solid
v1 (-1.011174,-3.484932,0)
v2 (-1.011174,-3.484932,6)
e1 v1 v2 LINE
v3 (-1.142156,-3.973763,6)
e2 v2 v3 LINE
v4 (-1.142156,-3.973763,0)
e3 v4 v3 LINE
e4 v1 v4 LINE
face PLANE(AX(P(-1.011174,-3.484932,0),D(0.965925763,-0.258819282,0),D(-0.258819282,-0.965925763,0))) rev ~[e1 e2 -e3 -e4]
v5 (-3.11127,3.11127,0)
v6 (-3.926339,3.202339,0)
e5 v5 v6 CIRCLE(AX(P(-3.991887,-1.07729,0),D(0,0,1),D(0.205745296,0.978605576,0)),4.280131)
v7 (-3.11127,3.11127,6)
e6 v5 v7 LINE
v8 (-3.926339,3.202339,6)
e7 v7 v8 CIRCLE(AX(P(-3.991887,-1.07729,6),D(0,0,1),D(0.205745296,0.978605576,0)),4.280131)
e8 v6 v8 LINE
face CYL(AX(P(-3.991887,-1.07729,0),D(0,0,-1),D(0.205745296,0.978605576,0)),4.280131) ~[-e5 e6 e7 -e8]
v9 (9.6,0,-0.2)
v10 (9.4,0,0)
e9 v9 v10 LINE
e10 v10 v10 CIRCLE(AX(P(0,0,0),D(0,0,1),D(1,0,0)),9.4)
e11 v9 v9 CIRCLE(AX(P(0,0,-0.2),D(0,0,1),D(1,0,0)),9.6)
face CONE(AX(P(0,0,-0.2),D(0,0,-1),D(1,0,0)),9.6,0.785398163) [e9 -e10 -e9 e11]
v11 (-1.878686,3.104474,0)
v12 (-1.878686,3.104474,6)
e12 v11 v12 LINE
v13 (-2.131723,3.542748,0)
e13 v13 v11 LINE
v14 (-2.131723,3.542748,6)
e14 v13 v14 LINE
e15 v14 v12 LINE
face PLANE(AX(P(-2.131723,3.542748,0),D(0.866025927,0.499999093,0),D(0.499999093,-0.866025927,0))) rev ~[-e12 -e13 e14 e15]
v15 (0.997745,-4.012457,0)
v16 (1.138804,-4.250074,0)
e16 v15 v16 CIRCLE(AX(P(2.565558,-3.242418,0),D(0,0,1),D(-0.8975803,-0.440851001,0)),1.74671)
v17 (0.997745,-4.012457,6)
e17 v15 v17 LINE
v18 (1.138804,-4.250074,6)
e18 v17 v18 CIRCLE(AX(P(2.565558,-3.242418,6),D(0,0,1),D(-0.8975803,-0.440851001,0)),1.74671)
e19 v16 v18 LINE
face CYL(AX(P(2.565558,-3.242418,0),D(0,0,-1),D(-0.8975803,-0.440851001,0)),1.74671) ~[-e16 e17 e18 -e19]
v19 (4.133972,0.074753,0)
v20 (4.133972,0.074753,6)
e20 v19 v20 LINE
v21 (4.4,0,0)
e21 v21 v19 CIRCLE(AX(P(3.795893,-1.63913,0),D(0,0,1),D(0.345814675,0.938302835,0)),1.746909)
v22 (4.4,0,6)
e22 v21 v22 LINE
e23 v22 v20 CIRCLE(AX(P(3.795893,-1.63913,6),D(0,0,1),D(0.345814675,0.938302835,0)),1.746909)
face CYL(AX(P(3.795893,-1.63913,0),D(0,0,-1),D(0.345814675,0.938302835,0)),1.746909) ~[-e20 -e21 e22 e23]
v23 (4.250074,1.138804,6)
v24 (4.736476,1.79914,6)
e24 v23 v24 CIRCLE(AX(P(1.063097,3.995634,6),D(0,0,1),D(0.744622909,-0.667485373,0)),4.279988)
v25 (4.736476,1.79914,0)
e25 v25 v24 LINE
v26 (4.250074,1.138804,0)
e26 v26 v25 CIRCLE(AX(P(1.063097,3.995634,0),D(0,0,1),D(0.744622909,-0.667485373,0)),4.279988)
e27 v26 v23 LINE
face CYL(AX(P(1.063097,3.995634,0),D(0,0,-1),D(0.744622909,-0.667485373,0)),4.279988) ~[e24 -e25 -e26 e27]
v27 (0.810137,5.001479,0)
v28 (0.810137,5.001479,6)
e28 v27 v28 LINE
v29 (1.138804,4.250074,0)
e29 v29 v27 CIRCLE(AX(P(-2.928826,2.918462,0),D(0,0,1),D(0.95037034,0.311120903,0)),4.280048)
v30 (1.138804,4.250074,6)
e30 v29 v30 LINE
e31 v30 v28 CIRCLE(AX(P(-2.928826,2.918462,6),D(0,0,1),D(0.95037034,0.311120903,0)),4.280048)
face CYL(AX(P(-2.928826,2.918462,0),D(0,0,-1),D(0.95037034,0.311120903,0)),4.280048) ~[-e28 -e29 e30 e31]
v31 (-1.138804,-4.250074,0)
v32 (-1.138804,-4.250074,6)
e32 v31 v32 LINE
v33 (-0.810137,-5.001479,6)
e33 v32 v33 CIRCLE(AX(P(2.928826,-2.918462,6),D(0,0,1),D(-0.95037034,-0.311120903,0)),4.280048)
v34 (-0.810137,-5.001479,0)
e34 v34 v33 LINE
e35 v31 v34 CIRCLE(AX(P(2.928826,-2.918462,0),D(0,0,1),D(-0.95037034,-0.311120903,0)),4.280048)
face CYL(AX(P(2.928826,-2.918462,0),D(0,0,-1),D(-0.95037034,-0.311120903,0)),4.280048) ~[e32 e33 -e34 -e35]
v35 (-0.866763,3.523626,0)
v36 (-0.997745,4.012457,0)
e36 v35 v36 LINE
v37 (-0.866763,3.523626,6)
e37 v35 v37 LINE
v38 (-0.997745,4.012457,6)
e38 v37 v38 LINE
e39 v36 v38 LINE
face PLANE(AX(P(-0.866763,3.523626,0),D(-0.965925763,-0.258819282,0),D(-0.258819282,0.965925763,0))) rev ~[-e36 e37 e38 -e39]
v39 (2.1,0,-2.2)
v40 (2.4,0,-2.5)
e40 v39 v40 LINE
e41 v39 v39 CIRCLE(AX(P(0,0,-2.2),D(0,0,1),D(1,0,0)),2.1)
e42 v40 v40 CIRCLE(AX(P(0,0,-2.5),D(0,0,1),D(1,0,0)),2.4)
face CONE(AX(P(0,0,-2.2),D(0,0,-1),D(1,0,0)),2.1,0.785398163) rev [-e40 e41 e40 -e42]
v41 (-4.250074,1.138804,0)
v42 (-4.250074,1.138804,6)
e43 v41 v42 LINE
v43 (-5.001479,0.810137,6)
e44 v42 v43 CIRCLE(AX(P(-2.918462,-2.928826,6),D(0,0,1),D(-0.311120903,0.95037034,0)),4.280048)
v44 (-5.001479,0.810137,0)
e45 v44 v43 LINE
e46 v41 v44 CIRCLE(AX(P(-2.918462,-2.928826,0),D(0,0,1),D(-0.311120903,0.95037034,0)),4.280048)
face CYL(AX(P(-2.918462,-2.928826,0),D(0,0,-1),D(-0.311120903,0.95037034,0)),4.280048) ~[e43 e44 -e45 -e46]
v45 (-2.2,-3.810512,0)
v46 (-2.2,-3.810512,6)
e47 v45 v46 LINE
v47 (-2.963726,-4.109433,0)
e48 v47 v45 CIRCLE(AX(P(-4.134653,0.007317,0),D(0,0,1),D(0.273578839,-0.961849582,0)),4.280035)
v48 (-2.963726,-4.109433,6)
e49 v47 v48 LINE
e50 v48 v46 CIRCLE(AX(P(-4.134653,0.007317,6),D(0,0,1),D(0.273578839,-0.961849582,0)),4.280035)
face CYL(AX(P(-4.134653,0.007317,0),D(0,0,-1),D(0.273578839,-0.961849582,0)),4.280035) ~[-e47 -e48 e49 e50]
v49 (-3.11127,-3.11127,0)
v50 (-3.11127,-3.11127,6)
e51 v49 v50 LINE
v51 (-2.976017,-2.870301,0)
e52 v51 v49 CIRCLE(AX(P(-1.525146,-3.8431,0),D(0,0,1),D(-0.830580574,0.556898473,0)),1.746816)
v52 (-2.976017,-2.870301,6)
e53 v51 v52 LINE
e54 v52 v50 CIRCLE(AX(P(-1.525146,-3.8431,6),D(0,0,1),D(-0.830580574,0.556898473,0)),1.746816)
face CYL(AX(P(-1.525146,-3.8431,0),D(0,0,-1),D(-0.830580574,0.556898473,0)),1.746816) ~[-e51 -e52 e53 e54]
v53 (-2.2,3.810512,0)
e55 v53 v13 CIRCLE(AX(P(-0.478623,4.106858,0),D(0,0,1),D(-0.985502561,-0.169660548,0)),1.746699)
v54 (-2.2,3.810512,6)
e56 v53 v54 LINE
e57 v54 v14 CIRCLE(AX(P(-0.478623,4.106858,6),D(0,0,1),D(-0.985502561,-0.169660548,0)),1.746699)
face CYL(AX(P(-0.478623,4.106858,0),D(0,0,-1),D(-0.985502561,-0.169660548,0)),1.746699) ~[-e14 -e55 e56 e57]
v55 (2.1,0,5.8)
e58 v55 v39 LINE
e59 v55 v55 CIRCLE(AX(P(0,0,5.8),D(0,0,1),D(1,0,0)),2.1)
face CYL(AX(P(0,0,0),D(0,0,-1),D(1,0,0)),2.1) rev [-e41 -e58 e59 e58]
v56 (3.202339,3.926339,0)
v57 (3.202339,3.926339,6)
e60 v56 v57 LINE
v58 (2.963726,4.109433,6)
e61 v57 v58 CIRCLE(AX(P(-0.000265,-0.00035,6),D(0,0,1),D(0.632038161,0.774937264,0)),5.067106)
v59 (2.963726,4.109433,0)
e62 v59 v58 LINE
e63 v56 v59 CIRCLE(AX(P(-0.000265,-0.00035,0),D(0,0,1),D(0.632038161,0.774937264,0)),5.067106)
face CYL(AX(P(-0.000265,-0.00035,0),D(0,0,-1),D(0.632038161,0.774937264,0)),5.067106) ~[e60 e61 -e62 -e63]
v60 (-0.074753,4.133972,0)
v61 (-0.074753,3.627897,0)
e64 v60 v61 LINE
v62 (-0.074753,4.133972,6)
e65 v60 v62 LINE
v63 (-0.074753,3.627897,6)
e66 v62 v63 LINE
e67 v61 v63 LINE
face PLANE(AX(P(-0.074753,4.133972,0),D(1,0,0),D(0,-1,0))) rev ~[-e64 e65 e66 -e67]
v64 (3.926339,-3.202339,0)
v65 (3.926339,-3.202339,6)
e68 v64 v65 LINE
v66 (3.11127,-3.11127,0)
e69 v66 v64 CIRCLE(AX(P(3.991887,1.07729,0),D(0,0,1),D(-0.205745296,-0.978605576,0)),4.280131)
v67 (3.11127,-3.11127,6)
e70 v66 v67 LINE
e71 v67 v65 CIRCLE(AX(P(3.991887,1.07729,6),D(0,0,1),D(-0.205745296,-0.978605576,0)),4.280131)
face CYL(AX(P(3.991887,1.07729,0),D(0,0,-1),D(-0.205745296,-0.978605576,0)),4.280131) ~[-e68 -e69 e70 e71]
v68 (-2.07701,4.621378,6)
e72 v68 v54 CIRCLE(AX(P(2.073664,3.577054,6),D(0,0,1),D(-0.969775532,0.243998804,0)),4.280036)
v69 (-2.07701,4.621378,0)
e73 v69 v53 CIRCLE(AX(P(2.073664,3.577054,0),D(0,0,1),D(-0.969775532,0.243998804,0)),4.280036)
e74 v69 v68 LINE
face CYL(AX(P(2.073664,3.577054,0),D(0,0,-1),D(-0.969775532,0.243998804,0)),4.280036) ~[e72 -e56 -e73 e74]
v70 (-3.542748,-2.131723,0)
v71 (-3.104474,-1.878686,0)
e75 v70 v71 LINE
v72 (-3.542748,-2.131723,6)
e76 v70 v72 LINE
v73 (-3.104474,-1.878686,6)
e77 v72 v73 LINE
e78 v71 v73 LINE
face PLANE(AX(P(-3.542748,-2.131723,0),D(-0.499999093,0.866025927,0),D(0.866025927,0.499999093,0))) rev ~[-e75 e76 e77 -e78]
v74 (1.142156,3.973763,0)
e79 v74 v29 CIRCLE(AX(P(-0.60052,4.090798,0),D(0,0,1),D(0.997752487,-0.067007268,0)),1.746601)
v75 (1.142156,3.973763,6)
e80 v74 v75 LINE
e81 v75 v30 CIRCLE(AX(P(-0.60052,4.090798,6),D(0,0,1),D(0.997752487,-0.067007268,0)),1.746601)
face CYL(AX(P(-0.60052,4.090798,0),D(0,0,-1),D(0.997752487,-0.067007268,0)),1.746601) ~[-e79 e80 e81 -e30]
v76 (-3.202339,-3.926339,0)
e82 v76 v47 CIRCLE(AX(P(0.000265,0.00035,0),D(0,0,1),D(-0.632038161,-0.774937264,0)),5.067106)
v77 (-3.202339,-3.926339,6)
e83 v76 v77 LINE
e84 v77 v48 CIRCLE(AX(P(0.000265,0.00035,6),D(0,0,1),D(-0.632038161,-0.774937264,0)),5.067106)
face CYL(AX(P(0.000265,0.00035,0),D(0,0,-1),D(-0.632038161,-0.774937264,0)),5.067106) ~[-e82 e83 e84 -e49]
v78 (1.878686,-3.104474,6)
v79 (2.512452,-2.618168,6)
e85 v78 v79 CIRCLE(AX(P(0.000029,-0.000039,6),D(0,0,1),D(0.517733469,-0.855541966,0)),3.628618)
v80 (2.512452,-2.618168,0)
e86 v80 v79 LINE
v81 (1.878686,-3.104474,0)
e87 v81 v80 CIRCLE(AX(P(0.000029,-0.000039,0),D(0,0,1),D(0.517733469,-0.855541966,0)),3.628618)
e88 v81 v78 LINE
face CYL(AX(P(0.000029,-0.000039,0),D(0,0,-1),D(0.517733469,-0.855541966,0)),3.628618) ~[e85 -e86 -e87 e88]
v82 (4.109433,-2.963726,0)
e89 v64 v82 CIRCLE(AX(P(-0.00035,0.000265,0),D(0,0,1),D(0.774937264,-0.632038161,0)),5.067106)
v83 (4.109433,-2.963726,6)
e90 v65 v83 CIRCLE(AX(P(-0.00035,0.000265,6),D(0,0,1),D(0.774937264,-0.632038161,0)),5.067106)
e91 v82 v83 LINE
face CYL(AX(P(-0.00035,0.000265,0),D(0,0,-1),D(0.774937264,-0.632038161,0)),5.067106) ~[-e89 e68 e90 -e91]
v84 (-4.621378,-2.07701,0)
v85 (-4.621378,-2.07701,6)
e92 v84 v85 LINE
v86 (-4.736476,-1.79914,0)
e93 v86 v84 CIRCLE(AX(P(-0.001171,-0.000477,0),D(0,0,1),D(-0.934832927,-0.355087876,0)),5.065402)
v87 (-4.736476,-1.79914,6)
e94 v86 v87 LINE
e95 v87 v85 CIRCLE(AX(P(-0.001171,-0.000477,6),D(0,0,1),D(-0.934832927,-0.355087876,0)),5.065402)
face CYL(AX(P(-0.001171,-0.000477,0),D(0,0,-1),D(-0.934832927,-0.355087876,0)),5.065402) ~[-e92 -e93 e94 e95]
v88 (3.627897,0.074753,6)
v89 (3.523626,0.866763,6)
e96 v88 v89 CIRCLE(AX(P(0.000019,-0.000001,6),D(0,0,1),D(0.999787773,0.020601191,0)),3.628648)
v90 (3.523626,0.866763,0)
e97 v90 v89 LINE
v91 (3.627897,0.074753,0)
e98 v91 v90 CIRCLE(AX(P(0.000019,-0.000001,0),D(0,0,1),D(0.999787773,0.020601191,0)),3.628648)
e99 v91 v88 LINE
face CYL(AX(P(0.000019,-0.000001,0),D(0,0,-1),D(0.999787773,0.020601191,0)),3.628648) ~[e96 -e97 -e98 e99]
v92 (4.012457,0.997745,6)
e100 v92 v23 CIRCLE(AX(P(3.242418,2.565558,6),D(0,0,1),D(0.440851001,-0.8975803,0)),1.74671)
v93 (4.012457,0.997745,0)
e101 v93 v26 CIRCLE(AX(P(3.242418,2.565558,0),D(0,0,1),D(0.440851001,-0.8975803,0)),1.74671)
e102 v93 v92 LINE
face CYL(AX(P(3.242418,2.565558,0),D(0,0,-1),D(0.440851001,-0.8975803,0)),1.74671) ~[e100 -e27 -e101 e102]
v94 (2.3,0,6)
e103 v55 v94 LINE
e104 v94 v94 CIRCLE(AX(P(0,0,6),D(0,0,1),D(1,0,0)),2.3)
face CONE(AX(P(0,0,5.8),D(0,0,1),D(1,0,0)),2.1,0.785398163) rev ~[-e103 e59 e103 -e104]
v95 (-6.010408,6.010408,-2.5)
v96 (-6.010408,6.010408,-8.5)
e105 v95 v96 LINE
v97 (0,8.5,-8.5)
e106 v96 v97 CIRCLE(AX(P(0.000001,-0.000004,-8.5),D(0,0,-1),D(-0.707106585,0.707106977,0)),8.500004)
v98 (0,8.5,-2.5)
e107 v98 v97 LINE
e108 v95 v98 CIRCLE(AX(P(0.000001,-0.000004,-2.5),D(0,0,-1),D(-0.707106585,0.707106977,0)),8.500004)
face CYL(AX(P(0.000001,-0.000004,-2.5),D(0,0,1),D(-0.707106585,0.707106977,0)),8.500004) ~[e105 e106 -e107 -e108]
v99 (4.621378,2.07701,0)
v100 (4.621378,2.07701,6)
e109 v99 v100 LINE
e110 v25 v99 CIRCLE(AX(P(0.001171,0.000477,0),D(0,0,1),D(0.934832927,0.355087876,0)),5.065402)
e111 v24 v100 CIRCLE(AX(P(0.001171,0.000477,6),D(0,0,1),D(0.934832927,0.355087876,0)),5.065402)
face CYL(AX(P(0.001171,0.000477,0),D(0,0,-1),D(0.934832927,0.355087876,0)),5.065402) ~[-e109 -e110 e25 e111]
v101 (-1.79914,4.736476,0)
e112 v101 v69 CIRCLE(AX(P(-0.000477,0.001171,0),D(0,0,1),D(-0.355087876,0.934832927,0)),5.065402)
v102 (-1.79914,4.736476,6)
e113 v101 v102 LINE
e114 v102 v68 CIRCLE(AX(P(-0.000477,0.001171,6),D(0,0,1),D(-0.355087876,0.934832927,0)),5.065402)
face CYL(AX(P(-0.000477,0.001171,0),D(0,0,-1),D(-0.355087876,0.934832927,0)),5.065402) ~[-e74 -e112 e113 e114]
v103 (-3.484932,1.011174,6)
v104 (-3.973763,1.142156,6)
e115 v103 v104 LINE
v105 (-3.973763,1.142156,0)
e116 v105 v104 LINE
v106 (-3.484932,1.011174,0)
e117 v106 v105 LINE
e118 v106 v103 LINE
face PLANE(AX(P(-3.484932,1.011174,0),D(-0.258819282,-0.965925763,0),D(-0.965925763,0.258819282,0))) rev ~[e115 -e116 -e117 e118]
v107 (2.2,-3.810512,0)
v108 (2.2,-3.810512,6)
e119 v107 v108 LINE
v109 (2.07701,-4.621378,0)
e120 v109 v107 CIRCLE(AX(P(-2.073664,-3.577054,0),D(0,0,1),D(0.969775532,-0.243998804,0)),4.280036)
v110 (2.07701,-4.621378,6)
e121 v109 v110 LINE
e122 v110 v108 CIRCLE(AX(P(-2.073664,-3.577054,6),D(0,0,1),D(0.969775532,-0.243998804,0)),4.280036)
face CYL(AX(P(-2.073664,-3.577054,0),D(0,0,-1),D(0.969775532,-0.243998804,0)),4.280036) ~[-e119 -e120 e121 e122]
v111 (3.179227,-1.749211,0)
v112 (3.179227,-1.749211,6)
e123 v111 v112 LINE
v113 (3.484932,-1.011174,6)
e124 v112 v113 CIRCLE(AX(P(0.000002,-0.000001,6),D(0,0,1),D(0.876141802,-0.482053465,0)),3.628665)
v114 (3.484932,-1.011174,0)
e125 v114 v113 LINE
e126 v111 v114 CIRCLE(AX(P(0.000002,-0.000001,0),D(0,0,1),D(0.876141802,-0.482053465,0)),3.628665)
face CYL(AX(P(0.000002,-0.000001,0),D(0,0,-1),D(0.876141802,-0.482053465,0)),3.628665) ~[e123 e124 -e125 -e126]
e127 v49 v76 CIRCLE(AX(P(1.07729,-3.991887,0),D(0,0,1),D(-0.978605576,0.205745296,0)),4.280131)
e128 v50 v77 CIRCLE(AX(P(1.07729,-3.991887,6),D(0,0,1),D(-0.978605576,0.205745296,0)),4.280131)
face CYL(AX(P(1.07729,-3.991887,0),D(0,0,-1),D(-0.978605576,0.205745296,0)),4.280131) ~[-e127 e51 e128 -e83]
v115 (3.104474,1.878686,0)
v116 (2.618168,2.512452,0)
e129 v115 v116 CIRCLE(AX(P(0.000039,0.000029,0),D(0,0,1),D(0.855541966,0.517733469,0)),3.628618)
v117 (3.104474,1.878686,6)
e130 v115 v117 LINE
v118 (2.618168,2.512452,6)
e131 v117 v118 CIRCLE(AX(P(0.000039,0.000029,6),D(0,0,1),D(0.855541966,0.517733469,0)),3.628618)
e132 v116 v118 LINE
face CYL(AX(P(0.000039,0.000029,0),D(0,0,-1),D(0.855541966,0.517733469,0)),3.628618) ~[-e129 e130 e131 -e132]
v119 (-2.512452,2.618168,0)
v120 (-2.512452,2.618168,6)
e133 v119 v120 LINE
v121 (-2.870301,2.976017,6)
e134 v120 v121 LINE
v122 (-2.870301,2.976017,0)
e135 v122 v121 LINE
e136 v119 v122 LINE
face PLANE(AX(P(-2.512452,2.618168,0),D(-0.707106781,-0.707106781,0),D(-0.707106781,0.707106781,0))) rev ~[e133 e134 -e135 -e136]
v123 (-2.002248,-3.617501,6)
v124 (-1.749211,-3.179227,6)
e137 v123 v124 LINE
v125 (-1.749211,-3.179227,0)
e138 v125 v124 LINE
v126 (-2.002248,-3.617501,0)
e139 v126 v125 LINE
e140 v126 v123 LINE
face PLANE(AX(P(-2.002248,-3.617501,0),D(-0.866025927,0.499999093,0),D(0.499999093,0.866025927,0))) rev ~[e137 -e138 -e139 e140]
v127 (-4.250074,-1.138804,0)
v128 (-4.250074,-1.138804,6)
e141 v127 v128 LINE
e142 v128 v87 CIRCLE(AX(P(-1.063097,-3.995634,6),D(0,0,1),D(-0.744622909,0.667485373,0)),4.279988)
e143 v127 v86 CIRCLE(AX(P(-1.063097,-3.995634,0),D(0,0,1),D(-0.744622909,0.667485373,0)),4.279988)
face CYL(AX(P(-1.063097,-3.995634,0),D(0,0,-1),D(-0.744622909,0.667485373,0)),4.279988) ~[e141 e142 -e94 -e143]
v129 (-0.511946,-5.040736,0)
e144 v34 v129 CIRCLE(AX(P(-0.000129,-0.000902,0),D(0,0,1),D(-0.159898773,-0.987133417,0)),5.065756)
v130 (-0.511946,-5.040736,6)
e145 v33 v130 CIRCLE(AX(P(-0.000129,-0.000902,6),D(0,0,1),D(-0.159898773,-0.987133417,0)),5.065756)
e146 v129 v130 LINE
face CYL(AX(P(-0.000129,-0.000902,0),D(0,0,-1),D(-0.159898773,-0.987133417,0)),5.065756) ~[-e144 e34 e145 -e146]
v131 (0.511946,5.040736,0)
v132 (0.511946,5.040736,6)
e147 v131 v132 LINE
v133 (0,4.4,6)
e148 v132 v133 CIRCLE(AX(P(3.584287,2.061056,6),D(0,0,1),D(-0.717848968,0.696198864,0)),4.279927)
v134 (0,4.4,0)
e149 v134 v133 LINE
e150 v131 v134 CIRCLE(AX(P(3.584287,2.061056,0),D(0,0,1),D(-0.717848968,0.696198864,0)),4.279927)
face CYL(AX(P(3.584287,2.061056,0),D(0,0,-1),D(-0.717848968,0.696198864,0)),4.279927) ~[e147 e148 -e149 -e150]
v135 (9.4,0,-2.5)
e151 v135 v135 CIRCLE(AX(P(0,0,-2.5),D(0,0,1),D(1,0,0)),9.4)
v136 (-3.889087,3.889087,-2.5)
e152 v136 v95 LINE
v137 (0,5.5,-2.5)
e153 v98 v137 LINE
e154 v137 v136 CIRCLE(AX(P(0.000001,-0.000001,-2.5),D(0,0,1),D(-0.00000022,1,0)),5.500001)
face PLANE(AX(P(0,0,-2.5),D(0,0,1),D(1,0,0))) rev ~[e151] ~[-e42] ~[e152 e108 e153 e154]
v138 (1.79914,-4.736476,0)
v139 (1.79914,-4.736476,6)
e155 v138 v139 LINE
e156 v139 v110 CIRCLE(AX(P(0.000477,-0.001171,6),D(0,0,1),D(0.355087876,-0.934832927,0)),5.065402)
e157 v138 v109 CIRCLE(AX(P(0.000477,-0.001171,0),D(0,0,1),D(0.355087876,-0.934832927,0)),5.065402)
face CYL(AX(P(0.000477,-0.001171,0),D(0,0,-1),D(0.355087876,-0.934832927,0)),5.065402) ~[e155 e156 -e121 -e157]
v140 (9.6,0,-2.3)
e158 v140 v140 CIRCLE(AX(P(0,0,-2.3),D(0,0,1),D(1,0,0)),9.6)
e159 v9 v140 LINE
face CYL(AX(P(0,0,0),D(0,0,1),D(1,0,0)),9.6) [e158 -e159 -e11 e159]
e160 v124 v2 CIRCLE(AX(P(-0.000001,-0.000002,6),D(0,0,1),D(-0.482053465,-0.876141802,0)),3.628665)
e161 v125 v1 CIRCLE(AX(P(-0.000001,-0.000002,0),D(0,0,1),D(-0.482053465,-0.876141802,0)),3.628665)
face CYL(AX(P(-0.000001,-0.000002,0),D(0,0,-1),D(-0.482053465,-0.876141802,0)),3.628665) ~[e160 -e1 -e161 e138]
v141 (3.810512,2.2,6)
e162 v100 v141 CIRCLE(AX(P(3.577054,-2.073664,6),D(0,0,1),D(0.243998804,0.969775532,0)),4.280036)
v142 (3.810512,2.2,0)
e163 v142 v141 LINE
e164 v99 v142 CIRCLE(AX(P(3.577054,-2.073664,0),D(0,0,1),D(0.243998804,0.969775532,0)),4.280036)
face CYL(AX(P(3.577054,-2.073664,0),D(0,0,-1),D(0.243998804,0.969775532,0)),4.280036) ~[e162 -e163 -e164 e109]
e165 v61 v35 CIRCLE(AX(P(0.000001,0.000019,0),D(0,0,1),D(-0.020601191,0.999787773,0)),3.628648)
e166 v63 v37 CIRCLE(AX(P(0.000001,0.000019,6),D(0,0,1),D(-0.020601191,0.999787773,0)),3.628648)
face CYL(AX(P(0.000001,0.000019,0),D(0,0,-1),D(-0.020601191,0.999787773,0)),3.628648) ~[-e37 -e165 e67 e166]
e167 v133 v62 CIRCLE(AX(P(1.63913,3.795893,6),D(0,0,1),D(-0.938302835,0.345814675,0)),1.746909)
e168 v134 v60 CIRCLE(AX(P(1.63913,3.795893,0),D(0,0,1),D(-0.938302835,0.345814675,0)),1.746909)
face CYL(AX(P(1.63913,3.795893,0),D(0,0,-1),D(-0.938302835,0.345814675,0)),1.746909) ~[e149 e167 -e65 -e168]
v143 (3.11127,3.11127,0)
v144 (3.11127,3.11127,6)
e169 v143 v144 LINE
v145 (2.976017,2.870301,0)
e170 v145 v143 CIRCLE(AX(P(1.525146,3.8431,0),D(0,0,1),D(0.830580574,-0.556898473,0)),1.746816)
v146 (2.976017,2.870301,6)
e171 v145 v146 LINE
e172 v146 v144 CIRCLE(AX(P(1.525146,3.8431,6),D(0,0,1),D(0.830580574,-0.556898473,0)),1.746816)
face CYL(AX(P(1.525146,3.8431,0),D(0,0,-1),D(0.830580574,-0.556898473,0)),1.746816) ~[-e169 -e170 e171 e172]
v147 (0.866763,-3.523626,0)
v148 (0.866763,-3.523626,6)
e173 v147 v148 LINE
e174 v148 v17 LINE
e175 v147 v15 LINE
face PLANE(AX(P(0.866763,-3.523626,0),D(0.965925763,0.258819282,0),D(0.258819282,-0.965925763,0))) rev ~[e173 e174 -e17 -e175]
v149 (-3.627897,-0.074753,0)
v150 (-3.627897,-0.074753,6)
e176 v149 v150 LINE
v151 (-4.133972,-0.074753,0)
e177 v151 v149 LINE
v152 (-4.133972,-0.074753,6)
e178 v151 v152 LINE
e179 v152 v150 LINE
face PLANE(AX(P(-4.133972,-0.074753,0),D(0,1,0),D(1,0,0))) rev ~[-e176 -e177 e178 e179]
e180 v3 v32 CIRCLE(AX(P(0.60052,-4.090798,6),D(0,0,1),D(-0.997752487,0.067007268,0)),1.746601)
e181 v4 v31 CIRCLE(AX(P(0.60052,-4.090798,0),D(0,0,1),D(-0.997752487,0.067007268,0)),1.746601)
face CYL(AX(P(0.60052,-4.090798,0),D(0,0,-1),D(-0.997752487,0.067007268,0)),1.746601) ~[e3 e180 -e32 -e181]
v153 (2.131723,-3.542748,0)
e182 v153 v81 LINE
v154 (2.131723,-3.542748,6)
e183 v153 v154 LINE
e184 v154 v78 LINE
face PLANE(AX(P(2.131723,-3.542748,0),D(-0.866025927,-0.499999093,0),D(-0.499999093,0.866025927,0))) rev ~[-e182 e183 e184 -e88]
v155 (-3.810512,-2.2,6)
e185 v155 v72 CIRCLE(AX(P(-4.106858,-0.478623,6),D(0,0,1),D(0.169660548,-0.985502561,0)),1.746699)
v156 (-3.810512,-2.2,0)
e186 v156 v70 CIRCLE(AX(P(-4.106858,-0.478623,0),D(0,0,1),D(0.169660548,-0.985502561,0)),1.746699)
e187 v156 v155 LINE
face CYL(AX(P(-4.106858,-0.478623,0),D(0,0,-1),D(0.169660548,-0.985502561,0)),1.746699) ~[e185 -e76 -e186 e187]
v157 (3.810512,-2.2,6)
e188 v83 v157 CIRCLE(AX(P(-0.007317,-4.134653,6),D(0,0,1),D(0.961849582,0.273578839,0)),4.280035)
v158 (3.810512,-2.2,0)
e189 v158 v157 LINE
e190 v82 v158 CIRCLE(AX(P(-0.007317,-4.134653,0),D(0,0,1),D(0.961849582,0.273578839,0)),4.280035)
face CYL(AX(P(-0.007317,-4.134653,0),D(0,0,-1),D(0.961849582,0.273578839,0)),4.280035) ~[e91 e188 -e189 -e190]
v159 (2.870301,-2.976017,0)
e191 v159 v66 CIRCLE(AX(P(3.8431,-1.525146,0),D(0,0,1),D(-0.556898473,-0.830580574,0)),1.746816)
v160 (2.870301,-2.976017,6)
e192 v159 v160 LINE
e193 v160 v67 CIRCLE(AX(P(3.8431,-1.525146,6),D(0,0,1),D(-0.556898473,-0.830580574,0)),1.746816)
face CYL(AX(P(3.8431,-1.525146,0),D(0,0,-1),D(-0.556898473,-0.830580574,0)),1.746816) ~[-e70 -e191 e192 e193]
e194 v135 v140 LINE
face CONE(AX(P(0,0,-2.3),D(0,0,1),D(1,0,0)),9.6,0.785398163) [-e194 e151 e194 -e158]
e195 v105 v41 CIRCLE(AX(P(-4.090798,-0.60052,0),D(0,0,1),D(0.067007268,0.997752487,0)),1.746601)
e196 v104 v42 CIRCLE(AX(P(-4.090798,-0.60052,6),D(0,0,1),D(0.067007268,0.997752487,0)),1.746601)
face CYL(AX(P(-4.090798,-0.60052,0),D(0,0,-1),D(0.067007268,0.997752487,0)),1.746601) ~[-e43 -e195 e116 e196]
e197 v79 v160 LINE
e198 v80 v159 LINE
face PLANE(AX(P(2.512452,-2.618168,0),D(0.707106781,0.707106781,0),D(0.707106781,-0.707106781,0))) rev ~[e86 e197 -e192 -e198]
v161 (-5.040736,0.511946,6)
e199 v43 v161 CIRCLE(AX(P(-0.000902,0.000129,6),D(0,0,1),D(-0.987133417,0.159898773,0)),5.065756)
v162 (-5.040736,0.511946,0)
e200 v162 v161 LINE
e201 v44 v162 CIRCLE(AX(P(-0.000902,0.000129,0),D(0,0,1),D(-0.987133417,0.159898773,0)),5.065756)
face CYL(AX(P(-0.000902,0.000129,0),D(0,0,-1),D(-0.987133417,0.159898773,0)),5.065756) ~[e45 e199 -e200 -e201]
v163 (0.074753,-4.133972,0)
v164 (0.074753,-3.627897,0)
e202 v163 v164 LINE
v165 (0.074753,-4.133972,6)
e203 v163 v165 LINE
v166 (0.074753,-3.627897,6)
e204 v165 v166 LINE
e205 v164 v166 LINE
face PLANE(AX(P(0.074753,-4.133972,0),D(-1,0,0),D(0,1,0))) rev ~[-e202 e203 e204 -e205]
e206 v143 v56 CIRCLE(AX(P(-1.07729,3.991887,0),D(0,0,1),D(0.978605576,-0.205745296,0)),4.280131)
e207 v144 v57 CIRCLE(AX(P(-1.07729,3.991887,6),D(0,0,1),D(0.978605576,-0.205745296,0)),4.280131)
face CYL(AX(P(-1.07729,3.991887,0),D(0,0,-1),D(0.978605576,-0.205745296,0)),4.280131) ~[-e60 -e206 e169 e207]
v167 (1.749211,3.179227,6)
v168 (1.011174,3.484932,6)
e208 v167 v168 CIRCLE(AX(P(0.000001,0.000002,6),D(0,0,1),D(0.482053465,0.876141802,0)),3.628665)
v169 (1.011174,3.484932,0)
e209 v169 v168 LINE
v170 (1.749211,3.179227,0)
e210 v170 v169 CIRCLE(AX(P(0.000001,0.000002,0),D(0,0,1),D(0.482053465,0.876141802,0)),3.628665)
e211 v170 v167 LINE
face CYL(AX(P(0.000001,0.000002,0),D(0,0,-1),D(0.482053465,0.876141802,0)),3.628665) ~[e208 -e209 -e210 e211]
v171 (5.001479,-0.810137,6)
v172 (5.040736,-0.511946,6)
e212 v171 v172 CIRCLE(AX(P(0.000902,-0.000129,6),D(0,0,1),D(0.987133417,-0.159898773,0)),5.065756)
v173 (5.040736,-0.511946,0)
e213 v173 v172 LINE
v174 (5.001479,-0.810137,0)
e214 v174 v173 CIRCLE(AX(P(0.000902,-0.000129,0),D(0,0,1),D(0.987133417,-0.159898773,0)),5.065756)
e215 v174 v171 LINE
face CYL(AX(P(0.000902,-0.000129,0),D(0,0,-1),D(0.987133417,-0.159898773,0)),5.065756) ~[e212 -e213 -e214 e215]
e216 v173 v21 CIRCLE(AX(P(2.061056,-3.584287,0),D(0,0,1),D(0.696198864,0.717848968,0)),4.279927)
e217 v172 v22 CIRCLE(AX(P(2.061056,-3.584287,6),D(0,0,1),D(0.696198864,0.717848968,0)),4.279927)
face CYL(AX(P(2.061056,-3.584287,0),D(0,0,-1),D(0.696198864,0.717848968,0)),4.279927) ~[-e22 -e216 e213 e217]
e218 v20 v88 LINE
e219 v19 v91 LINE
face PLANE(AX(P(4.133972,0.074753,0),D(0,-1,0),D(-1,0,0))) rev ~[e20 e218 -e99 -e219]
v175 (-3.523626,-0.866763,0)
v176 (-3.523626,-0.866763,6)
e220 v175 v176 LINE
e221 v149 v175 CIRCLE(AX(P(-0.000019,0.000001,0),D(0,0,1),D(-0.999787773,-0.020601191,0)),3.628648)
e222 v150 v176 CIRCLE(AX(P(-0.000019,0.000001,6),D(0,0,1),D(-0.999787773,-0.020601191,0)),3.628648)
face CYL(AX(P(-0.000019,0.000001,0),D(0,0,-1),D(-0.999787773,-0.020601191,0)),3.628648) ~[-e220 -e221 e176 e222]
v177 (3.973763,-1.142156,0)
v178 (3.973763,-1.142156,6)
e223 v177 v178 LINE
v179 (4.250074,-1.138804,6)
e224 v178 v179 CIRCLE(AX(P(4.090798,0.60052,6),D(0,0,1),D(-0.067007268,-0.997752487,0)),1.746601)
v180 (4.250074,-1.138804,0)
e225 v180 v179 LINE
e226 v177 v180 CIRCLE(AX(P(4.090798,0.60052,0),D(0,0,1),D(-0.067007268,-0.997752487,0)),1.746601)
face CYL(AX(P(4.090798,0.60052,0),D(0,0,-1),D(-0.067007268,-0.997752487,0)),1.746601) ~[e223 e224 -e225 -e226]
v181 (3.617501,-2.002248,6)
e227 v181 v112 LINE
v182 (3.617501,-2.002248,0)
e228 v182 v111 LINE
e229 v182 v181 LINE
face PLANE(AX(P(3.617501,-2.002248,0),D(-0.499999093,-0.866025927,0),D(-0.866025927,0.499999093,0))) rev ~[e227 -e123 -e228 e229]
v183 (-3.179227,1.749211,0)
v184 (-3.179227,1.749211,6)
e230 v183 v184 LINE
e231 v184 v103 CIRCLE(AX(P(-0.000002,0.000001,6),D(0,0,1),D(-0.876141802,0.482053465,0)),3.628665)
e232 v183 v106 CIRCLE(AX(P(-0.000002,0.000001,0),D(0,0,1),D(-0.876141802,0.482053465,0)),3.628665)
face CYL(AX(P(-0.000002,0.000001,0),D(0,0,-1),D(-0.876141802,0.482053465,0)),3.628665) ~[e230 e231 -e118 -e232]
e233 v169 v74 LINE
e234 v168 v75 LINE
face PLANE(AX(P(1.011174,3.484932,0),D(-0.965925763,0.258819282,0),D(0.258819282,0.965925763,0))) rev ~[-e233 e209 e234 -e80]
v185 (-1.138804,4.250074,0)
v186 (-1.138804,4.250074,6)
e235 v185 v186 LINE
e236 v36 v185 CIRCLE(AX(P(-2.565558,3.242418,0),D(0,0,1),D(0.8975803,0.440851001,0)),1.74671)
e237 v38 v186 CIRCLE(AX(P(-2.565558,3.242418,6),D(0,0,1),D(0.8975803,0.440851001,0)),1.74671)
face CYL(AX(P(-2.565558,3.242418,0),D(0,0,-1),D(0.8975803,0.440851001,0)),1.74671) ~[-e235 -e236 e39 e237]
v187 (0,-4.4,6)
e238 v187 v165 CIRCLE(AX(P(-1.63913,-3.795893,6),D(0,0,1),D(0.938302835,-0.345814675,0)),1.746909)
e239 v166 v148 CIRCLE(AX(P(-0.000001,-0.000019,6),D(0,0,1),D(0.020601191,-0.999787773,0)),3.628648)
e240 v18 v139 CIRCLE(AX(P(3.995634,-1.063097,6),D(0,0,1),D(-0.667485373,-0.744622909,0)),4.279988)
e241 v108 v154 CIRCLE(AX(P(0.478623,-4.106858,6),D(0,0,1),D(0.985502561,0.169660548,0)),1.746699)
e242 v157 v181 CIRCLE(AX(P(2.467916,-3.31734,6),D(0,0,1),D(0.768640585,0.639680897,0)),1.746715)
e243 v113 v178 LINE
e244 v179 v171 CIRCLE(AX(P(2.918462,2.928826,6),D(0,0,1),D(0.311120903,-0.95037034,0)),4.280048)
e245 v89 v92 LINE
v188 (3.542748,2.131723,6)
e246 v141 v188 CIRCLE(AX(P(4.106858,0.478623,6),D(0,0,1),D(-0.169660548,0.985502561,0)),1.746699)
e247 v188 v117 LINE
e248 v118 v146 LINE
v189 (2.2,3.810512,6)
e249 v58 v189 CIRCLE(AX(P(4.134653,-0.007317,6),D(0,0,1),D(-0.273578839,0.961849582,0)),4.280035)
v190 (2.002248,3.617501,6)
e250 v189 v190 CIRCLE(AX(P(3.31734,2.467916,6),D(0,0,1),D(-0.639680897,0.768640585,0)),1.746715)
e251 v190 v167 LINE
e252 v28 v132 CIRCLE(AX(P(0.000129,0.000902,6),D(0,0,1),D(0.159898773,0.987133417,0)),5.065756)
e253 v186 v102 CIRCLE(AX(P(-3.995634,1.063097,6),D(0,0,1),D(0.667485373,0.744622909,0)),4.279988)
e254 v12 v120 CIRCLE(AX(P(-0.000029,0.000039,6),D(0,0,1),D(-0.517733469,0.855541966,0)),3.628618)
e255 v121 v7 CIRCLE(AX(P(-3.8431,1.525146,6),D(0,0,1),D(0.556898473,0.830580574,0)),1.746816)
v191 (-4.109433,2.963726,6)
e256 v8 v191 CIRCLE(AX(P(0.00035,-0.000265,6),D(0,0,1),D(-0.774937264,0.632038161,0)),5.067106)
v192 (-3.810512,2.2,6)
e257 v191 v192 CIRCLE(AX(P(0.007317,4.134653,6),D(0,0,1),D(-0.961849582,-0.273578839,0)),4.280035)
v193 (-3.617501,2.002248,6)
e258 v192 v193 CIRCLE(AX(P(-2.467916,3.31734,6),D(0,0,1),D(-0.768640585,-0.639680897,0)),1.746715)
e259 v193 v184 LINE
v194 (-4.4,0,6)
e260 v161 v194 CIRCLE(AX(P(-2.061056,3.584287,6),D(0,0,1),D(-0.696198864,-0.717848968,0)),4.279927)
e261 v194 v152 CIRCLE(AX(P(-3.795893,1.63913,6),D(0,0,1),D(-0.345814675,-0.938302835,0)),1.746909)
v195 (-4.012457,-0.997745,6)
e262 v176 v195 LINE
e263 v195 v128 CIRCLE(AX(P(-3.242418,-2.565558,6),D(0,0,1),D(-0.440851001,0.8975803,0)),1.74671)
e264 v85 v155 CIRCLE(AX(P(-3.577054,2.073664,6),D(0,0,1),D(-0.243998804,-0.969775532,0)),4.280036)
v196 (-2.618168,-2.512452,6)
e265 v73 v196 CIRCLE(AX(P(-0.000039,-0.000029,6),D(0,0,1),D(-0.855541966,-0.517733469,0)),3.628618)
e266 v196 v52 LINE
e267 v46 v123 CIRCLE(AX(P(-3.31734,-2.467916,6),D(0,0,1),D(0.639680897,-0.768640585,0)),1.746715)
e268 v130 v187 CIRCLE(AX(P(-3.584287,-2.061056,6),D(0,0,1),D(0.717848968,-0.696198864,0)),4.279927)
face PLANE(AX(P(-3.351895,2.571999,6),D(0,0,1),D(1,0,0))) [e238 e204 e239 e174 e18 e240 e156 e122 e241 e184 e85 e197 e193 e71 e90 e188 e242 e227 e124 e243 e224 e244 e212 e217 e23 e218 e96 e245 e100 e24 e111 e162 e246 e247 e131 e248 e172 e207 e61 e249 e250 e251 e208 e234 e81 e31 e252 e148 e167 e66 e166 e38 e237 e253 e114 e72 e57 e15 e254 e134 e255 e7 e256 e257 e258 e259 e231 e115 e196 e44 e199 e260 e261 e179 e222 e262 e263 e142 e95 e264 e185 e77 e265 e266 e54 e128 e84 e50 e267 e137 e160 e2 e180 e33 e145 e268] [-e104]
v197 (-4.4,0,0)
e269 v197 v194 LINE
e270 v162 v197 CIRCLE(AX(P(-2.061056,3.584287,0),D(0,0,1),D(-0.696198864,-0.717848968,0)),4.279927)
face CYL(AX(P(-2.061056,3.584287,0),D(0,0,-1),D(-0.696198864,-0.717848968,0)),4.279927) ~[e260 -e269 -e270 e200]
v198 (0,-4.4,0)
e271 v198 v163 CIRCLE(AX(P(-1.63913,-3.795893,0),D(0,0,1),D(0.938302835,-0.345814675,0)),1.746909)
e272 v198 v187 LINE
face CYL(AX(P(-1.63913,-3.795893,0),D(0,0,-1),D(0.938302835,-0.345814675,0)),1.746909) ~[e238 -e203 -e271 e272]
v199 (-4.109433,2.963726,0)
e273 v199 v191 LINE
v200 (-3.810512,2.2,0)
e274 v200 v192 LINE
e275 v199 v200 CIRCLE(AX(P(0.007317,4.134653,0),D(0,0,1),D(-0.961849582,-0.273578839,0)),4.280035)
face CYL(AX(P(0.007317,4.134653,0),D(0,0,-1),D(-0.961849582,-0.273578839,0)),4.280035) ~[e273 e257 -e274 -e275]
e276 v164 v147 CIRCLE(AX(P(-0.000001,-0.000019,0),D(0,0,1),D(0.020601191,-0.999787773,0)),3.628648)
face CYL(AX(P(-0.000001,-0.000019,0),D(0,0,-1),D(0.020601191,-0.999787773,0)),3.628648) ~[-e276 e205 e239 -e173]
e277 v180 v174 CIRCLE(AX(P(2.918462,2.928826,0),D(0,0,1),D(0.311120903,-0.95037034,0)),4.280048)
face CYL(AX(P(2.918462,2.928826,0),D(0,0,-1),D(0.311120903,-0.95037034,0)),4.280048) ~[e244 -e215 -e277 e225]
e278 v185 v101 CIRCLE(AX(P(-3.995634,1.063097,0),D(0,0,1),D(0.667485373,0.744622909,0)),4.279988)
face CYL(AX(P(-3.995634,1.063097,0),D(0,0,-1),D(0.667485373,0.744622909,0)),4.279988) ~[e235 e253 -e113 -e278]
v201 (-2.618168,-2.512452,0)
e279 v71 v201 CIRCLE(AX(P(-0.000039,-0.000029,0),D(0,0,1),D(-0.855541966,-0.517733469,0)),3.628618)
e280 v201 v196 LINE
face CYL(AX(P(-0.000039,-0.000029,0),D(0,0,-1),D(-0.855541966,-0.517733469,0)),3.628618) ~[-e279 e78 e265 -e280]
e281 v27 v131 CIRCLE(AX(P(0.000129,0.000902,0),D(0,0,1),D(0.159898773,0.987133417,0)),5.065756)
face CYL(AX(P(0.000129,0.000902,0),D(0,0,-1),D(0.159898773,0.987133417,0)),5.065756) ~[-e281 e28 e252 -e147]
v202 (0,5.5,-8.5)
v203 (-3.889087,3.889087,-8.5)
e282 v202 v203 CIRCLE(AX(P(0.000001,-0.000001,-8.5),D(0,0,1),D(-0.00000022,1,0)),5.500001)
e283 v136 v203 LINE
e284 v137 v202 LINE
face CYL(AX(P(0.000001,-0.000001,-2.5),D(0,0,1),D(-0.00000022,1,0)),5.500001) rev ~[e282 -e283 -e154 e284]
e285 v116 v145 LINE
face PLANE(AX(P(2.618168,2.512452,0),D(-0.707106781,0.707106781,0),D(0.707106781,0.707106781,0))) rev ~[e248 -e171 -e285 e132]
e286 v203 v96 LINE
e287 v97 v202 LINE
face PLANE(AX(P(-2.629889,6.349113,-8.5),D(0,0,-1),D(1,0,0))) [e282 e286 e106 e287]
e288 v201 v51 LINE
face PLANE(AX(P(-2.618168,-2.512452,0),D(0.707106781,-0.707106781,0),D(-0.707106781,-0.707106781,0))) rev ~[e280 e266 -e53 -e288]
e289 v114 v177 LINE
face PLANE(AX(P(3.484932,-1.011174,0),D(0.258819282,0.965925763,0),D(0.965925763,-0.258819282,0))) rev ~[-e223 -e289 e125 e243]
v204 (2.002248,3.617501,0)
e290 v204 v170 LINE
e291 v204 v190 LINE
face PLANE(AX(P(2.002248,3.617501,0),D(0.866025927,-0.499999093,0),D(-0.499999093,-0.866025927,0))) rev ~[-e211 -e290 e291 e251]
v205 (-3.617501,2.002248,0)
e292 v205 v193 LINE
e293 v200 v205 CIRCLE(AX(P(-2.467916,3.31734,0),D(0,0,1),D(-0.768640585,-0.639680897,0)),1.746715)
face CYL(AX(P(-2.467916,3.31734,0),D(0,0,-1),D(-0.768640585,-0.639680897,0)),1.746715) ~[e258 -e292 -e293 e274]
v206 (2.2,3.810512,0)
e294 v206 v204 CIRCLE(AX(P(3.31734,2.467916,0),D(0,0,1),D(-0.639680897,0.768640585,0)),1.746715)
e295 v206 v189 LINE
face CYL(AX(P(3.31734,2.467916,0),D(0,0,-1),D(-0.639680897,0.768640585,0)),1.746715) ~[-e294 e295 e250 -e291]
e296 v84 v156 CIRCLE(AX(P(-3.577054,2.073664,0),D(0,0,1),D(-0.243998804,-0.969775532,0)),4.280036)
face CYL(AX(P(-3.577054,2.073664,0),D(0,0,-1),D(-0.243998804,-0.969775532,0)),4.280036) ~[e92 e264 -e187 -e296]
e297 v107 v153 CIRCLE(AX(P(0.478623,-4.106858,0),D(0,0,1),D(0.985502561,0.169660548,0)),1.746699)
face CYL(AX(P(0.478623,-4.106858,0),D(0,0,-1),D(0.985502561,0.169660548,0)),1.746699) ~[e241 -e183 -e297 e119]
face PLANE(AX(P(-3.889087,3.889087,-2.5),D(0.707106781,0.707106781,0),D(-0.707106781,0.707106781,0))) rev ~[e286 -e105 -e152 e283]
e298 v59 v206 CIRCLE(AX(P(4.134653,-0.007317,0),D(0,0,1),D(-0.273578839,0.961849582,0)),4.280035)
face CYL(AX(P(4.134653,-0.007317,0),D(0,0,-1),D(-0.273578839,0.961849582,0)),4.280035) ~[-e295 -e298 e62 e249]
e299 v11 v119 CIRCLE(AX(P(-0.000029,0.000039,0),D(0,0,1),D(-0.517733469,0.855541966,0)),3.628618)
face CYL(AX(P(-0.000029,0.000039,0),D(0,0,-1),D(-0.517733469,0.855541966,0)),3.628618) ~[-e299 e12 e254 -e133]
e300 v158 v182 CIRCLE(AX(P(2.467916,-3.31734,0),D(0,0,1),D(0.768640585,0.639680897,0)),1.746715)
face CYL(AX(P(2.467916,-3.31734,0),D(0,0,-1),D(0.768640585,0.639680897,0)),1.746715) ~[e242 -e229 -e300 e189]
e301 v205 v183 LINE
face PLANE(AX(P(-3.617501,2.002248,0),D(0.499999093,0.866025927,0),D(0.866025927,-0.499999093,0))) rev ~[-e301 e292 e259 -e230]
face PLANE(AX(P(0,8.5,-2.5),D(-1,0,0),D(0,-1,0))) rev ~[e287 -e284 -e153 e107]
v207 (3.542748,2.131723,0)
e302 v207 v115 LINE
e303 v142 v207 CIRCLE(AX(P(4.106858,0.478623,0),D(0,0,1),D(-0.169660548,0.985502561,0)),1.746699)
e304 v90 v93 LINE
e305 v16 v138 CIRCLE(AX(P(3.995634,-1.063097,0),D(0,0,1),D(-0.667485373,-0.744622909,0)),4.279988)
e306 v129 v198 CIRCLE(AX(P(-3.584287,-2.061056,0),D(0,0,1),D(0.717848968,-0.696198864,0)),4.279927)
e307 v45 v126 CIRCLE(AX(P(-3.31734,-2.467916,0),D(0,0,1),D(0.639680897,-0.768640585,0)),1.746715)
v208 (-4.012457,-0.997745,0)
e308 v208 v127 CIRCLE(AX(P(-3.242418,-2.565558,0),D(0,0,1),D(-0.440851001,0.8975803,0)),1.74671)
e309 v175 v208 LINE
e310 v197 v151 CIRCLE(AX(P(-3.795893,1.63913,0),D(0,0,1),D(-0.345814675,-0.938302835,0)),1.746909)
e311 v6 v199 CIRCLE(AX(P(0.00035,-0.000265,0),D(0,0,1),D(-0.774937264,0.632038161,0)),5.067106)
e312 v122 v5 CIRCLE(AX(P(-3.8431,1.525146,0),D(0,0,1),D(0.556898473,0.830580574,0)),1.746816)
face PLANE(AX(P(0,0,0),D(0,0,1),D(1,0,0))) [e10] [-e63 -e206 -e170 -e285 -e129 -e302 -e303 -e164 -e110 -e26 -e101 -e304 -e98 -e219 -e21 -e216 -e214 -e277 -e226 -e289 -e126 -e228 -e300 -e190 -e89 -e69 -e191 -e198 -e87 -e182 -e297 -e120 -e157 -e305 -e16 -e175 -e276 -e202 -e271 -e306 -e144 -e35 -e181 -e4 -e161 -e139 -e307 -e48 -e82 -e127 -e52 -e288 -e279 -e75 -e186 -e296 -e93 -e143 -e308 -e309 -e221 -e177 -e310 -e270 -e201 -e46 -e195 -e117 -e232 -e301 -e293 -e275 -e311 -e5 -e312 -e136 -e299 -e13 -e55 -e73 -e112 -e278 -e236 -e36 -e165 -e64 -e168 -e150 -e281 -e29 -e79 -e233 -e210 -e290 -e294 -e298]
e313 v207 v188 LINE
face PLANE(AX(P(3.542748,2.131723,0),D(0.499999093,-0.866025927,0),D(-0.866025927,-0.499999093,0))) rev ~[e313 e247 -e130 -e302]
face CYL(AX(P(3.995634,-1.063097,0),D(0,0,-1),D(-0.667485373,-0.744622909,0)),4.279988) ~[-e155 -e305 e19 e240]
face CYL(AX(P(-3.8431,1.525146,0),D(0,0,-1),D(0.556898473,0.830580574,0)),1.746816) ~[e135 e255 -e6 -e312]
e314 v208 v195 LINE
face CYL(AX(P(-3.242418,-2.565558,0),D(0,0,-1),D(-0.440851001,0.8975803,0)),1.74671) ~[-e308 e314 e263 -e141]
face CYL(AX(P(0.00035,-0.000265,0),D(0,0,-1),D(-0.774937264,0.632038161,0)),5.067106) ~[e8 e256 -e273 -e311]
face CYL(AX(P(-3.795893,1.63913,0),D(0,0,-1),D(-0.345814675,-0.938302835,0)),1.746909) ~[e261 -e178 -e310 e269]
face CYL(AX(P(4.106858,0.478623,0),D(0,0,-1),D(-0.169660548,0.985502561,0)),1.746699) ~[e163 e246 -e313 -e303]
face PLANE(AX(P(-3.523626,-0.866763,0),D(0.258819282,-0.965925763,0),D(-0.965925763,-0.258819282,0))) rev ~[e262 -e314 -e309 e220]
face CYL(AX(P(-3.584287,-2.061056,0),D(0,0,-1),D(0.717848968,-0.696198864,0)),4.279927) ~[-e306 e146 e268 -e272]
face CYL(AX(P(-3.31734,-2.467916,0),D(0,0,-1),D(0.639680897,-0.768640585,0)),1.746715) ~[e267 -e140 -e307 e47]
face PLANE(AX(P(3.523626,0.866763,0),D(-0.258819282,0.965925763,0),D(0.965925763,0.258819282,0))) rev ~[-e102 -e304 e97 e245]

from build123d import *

# Parameters (mm, degrees)
F0_R     = 9.6
F0_R_2   = 2.1
F1_DEPTH = 2.5
F3_DEPTH = 6
F4_R     = 2.1
F5_DEPTH = 6
F6_SIZE  = 0.3
F7_SIZE  = 0.2
F8_SIZE  = 0.2


with BuildPart() as f1:
    # F0 (on Top) → F1 (new body)
    with BuildSketch(Plane.XY):
        Circle(F0_R)
        Circle(F0_R_2, mode=Mode.SUBTRACT)
    extrude(amount=-F1_DEPTH)

    # F2 (on face) → F3 (join)
    with BuildSketch(Plane(origin=(0, 0, -2.5), x_dir=(1, 0, 0), z_dir=(0, 0, -1))):
        with BuildLine():
            Line((-3.889087, -3.889087), (-6.010408, -6.010408))
            ThreePointArc((-6.010408, -6.010408), (-3.252809, -7.852976), (0, -8.5))
            Line((0, -8.5), (0, -5.5))
            ThreePointArc((0, -5.5), (-2.104759, -5.081337), (-3.889087, -3.889087))
        make_face()
    extrude(amount=F3_DEPTH)

    # F4 (on face) → F5 (join)
    with BuildSketch(Plane.XY):
        with BuildLine():
            ThreePointArc((-3.11127, 3.11127), (-3.516618, 3.176372), (-3.926339, 3.202339))
            ThreePointArc((-3.926339, 3.202339), (-4.019657, 3.084391), (-4.109433, 2.963726))
            ThreePointArc((-4.109433, 2.963726), (-3.978308, 2.574687), (-3.810512, 2.2))
            ThreePointArc((-3.810512, 2.2), (-3.717923, 2.097301), (-3.617501, 2.002248))
            Line((-3.617501, 2.002248), (-3.179227, 1.749211))
            ThreePointArc((-3.179227, 1.749211), (-2.878815, 2.208992), (-2.512452, 2.618168))
            Line((-2.512452, 2.618168), (-2.870301, 2.976017))
            ThreePointArc((-2.870301, 2.976017), (-2.988107, 3.048416), (-3.11127, 3.11127))
        make_face()
        with BuildLine():
            ThreePointArc((-1.878686, 3.104474), (-2.208992, 2.878815), (-2.512452, 2.618168))
            ThreePointArc((-2.512452, 2.618168), (-2.878815, 2.208992), (-3.179227, 1.749211))
            ThreePointArc((-3.179227, 1.749211), (-3.352451, 1.388631), (-3.484932, 1.011174))
            ThreePointArc((-3.484932, 1.011174), (-3.597623, 0.473636), (-3.627897, -0.074753))
            ThreePointArc((-3.627897, -0.074753), (-3.597623, -0.473636), (-3.523626, -0.866763))
            ThreePointArc((-3.523626, -0.866763), (-3.352451, -1.388631), (-3.104474, -1.878686))
            ThreePointArc((-3.104474, -1.878686), (-2.878815, -2.208992), (-2.618168, -2.512452))
            ThreePointArc((-2.618168, -2.512452), (-2.208992, -2.878815), (-1.749211, -3.179227))
            ThreePointArc((-1.749211, -3.179227), (-1.388631, -3.352451), (-1.011174, -3.484932))
            ThreePointArc((-1.011174, -3.484932), (-0.473636, -3.597623), (0.074753, -3.627897))
            ThreePointArc((0.074753, -3.627897), (0.473636, -3.597623), (0.866763, -3.523626))
            ThreePointArc((0.866763, -3.523626), (1.388631, -3.352451), (1.878686, -3.104474))
            ThreePointArc((1.878686, -3.104474), (2.208992, -2.878815), (2.512452, -2.618168))
            ThreePointArc((2.512452, -2.618168), (2.878815, -2.208992), (3.179227, -1.749211))
            ThreePointArc((3.179227, -1.749211), (3.352451, -1.388631), (3.484932, -1.011174))
            ThreePointArc((3.484932, -1.011174), (3.592553, -0.510669), (3.628667, 0))
            ThreePointArc((3.628667, 0), (3.628474, 0.037378), (3.627897, 0.074753))
            ThreePointArc((3.627897, 0.074753), (3.597623, 0.473636), (3.523626, 0.866763))
            ThreePointArc((3.523626, 0.866763), (3.352451, 1.388631), (3.104474, 1.878686))
            ThreePointArc((3.104474, 1.878686), (2.878815, 2.208992), (2.618168, 2.512452))
            ThreePointArc((2.618168, 2.512452), (2.208992, 2.878815), (1.749211, 3.179227))
            ThreePointArc((1.749211, 3.179227), (1.388631, 3.352451), (1.011174, 3.484932))
            ThreePointArc((1.011174, 3.484932), (0.473636, 3.597623), (-0.074753, 3.627897))
            ThreePointArc((-0.074753, 3.627897), (-0.473636, 3.597623), (-0.866763, 3.523626))
            ThreePointArc((-0.866763, 3.523626), (-1.388631, 3.352451), (-1.878686, 3.104474))
        make_face()
        Circle(F4_R, mode=Mode.SUBTRACT)
        with BuildLine():
            Line((-2.131723, 3.542748), (-1.878686, 3.104474))
            ThreePointArc((-1.878686, 3.104474), (-1.388631, 3.352451), (-0.866763, 3.523626))
            Line((-0.866763, 3.523626), (-0.997745, 4.012457))
            ThreePointArc((-0.997745, 4.012457), (-1.063568, 4.134059), (-1.138804, 4.250074))
            ThreePointArc((-1.138804, 4.250074), (-1.457294, 4.509128), (-1.79914, 4.736476))
            ThreePointArc((-1.79914, 4.736476), (-1.938929, 4.68099), (-2.07701, 4.621378))
            ThreePointArc((-2.07701, 4.621378), (-2.157972, 4.218898), (-2.2, 3.810512))
            ThreePointArc((-2.2, 3.810512), (-2.171165, 3.675278), (-2.131723, 3.542748))
        make_face()
        with BuildLine():
            ThreePointArc((-3.627897, -0.074753), (-3.597623, 0.473636), (-3.484932, 1.011174))
            Line((-3.484932, 1.011174), (-3.973763, 1.142156))
            ThreePointArc((-3.973763, 1.142156), (-4.111985, 1.145953), (-4.250074, 1.138804))
            ThreePointArc((-4.250074, 1.138804), (-4.633667, 0.99251), (-5.001479, 0.810137))
            ThreePointArc((-5.001479, 0.810137), (-5.023321, 0.661333), (-5.040736, 0.511946))
            ThreePointArc((-5.040736, 0.511946), (-4.732659, 0.24059), (-4.4, 0))
            ThreePointArc((-4.4, 0), (-4.268466, -0.042645), (-4.133972, -0.074753))
            Line((-4.133972, -0.074753), (-3.627897, -0.074753))
        make_face()
        with BuildLine():
            Line((-0.074753, 4.133972), (-0.074753, 3.627897))
            ThreePointArc((-0.074753, 3.627897), (0.473636, 3.597623), (1.011174, 3.484932))
            Line((1.011174, 3.484932), (1.142156, 3.973763))
            ThreePointArc((1.142156, 3.973763), (1.145953, 4.111985), (1.138804, 4.250074))
            ThreePointArc((1.138804, 4.250074), (0.99251, 4.633667), (0.810137, 5.001479))
            ThreePointArc((0.810137, 5.001479), (0.661333, 5.023321), (0.511946, 5.040736))
            ThreePointArc((0.511946, 5.040736), (0.24059, 4.732659), (0, 4.4))
            ThreePointArc((0, 4.4), (-0.042645, 4.268466), (-0.074753, 4.133972))
        make_face()
        with BuildLine():
            ThreePointArc((-3.104474, -1.878686), (-3.352451, -1.388631), (-3.523626, -0.866763))
            Line((-3.523626, -0.866763), (-4.012457, -0.997745))
            ThreePointArc((-4.012457, -0.997745), (-4.134059, -1.063568), (-4.250074, -1.138804))
            ThreePointArc((-4.250074, -1.138804), (-4.509128, -1.457294), (-4.736476, -1.79914))
            ThreePointArc((-4.736476, -1.79914), (-4.68099, -1.938929), (-4.621378, -2.07701))
            ThreePointArc((-4.621378, -2.07701), (-4.218898, -2.157972), (-3.810512, -2.2))
            ThreePointArc((-3.810512, -2.2), (-3.675278, -2.171165), (-3.542748, -2.131723))
            Line((-3.542748, -2.131723), (-3.104474, -1.878686))
        make_face()
        with BuildLine():
            Line((2.002248, 3.617501), (1.749211, 3.179227))
            ThreePointArc((1.749211, 3.179227), (2.208992, 2.878815), (2.618168, 2.512452))
            Line((2.618168, 2.512452), (2.976017, 2.870301))
            ThreePointArc((2.976017, 2.870301), (3.048416, 2.988107), (3.11127, 3.11127))
            ThreePointArc((3.11127, 3.11127), (3.176372, 3.516618), (3.202339, 3.926339))
            ThreePointArc((3.202339, 3.926339), (3.084391, 4.019657), (2.963726, 4.109433))
            ThreePointArc((2.963726, 4.109433), (2.574687, 3.978308), (2.2, 3.810512))
            ThreePointArc((2.2, 3.810512), (2.097301, 3.717923), (2.002248, 3.617501))
        make_face()
        with BuildLine():
            ThreePointArc((-1.749211, -3.179227), (-2.208992, -2.878815), (-2.618168, -2.512452))
            Line((-2.618168, -2.512452), (-2.976017, -2.870301))
            ThreePointArc((-2.976017, -2.870301), (-3.048416, -2.988107), (-3.11127, -3.11127))
            ThreePointArc((-3.11127, -3.11127), (-3.176372, -3.516618), (-3.202339, -3.926339))
            ThreePointArc((-3.202339, -3.926339), (-3.084391, -4.019657), (-2.963726, -4.109433))
            ThreePointArc((-2.963726, -4.109433), (-2.574687, -3.978308), (-2.2, -3.810512))
            ThreePointArc((-2.2, -3.810512), (-2.097301, -3.717923), (-2.002248, -3.617501))
            Line((-2.002248, -3.617501), (-1.749211, -3.179227))
        make_face()
        with BuildLine():
            Line((3.542748, 2.131723), (3.104474, 1.878686))
            ThreePointArc((3.104474, 1.878686), (3.352451, 1.388631), (3.523626, 0.866763))
            Line((3.523626, 0.866763), (4.012457, 0.997745))
            ThreePointArc((4.012457, 0.997745), (4.134059, 1.063568), (4.250074, 1.138804))
            ThreePointArc((4.250074, 1.138804), (4.509128, 1.457294), (4.736476, 1.79914))
            ThreePointArc((4.736476, 1.79914), (4.68099, 1.938929), (4.621378, 2.07701))
            ThreePointArc((4.621378, 2.07701), (4.218898, 2.157972), (3.810512, 2.2))
            ThreePointArc((3.810512, 2.2), (3.675278, 2.171165), (3.542748, 2.131723))
        make_face()
        with BuildLine():
            ThreePointArc((0.074753, -3.627897), (-0.473636, -3.597623), (-1.011174, -3.484932))
            Line((-1.011174, -3.484932), (-1.142156, -3.973763))
            ThreePointArc((-1.142156, -3.973763), (-1.145953, -4.111985), (-1.138804, -4.250074))
            ThreePointArc((-1.138804, -4.250074), (-0.99251, -4.633667), (-0.810137, -5.001479))
            ThreePointArc((-0.810137, -5.001479), (-0.661333, -5.023321), (-0.511946, -5.040736))
            ThreePointArc((-0.511946, -5.040736), (-0.24059, -4.732659), (0, -4.4))
            ThreePointArc((0, -4.4), (0.042645, -4.268466), (0.074753, -4.133972))
            Line((0.074753, -4.133972), (0.074753, -3.627897))
        make_face()
        with BuildLine():
            Line((4.133972, 0.074753), (3.627897, 0.074753))
            ThreePointArc((3.627897, 0.074753), (3.628474, 0.037378), (3.628667, 0))
            ThreePointArc((3.628667, 0), (3.592553, -0.510669), (3.484932, -1.011174))
            Line((3.484932, -1.011174), (3.973763, -1.142156))
            ThreePointArc((3.973763, -1.142156), (4.111985, -1.145953), (4.250074, -1.138804))
            ThreePointArc((4.250074, -1.138804), (4.633667, -0.99251), (5.001479, -0.810137))
            ThreePointArc((5.001479, -0.810137), (5.023321, -0.661333), (5.040736, -0.511946))
            ThreePointArc((5.040736, -0.511946), (4.732659, -0.24059), (4.4, 0))
            ThreePointArc((4.4, 0), (4.268466, 0.042645), (4.133972, 0.074753))
        make_face()
        with BuildLine():
            ThreePointArc((1.878686, -3.104474), (1.388631, -3.352451), (0.866763, -3.523626))
            Line((0.866763, -3.523626), (0.997745, -4.012457))
            ThreePointArc((0.997745, -4.012457), (1.063568, -4.134059), (1.138804, -4.250074))
            ThreePointArc((1.138804, -4.250074), (1.457294, -4.509128), (1.79914, -4.736476))
            ThreePointArc((1.79914, -4.736476), (1.938929, -4.68099), (2.07701, -4.621378))
            ThreePointArc((2.07701, -4.621378), (2.157972, -4.218898), (2.2, -3.810512))
            ThreePointArc((2.2, -3.810512), (2.171165, -3.675278), (2.131723, -3.542748))
            Line((2.131723, -3.542748), (1.878686, -3.104474))
        make_face()
        with BuildLine():
            ThreePointArc((3.179227, -1.749211), (2.878815, -2.208992), (2.512452, -2.618168))
            Line((2.512452, -2.618168), (2.870301, -2.976017))
            ThreePointArc((2.870301, -2.976017), (2.988107, -3.048416), (3.11127, -3.11127))
            ThreePointArc((3.11127, -3.11127), (3.516618, -3.176372), (3.926339, -3.202339))
            ThreePointArc((3.926339, -3.202339), (4.019657, -3.084391), (4.109433, -2.963726))
            ThreePointArc((4.109433, -2.963726), (3.978308, -2.574687), (3.810512, -2.2))
            ThreePointArc((3.810512, -2.2), (3.717923, -2.097301), (3.617501, -2.002248))
            Line((3.617501, -2.002248), (3.179227, -1.749211))
        make_face()
    extrude(amount=F5_DEPTH)

    # F6
    f6_edges = [f1.edges().sort_by_distance(p)[0] for p in [
        (-2.1, 0, -2.5),
    ]]
    chamfer(f6_edges, length=F6_SIZE)

    # F7
    f7_edges = [f1.edges().sort_by_distance(p)[0] for p in [
        (-2.1, 0, 6),
    ]]
    chamfer(f7_edges, length=F7_SIZE)

    # F8
    f8_edges = [f1.edges().sort_by_distance(p)[0] for p in [
        (-9.6, 0, -2.5),
        (-9.6, 0, 0),
    ]]
    chamfer(f8_edges, length=F8_SIZE)


solid = f1.part
